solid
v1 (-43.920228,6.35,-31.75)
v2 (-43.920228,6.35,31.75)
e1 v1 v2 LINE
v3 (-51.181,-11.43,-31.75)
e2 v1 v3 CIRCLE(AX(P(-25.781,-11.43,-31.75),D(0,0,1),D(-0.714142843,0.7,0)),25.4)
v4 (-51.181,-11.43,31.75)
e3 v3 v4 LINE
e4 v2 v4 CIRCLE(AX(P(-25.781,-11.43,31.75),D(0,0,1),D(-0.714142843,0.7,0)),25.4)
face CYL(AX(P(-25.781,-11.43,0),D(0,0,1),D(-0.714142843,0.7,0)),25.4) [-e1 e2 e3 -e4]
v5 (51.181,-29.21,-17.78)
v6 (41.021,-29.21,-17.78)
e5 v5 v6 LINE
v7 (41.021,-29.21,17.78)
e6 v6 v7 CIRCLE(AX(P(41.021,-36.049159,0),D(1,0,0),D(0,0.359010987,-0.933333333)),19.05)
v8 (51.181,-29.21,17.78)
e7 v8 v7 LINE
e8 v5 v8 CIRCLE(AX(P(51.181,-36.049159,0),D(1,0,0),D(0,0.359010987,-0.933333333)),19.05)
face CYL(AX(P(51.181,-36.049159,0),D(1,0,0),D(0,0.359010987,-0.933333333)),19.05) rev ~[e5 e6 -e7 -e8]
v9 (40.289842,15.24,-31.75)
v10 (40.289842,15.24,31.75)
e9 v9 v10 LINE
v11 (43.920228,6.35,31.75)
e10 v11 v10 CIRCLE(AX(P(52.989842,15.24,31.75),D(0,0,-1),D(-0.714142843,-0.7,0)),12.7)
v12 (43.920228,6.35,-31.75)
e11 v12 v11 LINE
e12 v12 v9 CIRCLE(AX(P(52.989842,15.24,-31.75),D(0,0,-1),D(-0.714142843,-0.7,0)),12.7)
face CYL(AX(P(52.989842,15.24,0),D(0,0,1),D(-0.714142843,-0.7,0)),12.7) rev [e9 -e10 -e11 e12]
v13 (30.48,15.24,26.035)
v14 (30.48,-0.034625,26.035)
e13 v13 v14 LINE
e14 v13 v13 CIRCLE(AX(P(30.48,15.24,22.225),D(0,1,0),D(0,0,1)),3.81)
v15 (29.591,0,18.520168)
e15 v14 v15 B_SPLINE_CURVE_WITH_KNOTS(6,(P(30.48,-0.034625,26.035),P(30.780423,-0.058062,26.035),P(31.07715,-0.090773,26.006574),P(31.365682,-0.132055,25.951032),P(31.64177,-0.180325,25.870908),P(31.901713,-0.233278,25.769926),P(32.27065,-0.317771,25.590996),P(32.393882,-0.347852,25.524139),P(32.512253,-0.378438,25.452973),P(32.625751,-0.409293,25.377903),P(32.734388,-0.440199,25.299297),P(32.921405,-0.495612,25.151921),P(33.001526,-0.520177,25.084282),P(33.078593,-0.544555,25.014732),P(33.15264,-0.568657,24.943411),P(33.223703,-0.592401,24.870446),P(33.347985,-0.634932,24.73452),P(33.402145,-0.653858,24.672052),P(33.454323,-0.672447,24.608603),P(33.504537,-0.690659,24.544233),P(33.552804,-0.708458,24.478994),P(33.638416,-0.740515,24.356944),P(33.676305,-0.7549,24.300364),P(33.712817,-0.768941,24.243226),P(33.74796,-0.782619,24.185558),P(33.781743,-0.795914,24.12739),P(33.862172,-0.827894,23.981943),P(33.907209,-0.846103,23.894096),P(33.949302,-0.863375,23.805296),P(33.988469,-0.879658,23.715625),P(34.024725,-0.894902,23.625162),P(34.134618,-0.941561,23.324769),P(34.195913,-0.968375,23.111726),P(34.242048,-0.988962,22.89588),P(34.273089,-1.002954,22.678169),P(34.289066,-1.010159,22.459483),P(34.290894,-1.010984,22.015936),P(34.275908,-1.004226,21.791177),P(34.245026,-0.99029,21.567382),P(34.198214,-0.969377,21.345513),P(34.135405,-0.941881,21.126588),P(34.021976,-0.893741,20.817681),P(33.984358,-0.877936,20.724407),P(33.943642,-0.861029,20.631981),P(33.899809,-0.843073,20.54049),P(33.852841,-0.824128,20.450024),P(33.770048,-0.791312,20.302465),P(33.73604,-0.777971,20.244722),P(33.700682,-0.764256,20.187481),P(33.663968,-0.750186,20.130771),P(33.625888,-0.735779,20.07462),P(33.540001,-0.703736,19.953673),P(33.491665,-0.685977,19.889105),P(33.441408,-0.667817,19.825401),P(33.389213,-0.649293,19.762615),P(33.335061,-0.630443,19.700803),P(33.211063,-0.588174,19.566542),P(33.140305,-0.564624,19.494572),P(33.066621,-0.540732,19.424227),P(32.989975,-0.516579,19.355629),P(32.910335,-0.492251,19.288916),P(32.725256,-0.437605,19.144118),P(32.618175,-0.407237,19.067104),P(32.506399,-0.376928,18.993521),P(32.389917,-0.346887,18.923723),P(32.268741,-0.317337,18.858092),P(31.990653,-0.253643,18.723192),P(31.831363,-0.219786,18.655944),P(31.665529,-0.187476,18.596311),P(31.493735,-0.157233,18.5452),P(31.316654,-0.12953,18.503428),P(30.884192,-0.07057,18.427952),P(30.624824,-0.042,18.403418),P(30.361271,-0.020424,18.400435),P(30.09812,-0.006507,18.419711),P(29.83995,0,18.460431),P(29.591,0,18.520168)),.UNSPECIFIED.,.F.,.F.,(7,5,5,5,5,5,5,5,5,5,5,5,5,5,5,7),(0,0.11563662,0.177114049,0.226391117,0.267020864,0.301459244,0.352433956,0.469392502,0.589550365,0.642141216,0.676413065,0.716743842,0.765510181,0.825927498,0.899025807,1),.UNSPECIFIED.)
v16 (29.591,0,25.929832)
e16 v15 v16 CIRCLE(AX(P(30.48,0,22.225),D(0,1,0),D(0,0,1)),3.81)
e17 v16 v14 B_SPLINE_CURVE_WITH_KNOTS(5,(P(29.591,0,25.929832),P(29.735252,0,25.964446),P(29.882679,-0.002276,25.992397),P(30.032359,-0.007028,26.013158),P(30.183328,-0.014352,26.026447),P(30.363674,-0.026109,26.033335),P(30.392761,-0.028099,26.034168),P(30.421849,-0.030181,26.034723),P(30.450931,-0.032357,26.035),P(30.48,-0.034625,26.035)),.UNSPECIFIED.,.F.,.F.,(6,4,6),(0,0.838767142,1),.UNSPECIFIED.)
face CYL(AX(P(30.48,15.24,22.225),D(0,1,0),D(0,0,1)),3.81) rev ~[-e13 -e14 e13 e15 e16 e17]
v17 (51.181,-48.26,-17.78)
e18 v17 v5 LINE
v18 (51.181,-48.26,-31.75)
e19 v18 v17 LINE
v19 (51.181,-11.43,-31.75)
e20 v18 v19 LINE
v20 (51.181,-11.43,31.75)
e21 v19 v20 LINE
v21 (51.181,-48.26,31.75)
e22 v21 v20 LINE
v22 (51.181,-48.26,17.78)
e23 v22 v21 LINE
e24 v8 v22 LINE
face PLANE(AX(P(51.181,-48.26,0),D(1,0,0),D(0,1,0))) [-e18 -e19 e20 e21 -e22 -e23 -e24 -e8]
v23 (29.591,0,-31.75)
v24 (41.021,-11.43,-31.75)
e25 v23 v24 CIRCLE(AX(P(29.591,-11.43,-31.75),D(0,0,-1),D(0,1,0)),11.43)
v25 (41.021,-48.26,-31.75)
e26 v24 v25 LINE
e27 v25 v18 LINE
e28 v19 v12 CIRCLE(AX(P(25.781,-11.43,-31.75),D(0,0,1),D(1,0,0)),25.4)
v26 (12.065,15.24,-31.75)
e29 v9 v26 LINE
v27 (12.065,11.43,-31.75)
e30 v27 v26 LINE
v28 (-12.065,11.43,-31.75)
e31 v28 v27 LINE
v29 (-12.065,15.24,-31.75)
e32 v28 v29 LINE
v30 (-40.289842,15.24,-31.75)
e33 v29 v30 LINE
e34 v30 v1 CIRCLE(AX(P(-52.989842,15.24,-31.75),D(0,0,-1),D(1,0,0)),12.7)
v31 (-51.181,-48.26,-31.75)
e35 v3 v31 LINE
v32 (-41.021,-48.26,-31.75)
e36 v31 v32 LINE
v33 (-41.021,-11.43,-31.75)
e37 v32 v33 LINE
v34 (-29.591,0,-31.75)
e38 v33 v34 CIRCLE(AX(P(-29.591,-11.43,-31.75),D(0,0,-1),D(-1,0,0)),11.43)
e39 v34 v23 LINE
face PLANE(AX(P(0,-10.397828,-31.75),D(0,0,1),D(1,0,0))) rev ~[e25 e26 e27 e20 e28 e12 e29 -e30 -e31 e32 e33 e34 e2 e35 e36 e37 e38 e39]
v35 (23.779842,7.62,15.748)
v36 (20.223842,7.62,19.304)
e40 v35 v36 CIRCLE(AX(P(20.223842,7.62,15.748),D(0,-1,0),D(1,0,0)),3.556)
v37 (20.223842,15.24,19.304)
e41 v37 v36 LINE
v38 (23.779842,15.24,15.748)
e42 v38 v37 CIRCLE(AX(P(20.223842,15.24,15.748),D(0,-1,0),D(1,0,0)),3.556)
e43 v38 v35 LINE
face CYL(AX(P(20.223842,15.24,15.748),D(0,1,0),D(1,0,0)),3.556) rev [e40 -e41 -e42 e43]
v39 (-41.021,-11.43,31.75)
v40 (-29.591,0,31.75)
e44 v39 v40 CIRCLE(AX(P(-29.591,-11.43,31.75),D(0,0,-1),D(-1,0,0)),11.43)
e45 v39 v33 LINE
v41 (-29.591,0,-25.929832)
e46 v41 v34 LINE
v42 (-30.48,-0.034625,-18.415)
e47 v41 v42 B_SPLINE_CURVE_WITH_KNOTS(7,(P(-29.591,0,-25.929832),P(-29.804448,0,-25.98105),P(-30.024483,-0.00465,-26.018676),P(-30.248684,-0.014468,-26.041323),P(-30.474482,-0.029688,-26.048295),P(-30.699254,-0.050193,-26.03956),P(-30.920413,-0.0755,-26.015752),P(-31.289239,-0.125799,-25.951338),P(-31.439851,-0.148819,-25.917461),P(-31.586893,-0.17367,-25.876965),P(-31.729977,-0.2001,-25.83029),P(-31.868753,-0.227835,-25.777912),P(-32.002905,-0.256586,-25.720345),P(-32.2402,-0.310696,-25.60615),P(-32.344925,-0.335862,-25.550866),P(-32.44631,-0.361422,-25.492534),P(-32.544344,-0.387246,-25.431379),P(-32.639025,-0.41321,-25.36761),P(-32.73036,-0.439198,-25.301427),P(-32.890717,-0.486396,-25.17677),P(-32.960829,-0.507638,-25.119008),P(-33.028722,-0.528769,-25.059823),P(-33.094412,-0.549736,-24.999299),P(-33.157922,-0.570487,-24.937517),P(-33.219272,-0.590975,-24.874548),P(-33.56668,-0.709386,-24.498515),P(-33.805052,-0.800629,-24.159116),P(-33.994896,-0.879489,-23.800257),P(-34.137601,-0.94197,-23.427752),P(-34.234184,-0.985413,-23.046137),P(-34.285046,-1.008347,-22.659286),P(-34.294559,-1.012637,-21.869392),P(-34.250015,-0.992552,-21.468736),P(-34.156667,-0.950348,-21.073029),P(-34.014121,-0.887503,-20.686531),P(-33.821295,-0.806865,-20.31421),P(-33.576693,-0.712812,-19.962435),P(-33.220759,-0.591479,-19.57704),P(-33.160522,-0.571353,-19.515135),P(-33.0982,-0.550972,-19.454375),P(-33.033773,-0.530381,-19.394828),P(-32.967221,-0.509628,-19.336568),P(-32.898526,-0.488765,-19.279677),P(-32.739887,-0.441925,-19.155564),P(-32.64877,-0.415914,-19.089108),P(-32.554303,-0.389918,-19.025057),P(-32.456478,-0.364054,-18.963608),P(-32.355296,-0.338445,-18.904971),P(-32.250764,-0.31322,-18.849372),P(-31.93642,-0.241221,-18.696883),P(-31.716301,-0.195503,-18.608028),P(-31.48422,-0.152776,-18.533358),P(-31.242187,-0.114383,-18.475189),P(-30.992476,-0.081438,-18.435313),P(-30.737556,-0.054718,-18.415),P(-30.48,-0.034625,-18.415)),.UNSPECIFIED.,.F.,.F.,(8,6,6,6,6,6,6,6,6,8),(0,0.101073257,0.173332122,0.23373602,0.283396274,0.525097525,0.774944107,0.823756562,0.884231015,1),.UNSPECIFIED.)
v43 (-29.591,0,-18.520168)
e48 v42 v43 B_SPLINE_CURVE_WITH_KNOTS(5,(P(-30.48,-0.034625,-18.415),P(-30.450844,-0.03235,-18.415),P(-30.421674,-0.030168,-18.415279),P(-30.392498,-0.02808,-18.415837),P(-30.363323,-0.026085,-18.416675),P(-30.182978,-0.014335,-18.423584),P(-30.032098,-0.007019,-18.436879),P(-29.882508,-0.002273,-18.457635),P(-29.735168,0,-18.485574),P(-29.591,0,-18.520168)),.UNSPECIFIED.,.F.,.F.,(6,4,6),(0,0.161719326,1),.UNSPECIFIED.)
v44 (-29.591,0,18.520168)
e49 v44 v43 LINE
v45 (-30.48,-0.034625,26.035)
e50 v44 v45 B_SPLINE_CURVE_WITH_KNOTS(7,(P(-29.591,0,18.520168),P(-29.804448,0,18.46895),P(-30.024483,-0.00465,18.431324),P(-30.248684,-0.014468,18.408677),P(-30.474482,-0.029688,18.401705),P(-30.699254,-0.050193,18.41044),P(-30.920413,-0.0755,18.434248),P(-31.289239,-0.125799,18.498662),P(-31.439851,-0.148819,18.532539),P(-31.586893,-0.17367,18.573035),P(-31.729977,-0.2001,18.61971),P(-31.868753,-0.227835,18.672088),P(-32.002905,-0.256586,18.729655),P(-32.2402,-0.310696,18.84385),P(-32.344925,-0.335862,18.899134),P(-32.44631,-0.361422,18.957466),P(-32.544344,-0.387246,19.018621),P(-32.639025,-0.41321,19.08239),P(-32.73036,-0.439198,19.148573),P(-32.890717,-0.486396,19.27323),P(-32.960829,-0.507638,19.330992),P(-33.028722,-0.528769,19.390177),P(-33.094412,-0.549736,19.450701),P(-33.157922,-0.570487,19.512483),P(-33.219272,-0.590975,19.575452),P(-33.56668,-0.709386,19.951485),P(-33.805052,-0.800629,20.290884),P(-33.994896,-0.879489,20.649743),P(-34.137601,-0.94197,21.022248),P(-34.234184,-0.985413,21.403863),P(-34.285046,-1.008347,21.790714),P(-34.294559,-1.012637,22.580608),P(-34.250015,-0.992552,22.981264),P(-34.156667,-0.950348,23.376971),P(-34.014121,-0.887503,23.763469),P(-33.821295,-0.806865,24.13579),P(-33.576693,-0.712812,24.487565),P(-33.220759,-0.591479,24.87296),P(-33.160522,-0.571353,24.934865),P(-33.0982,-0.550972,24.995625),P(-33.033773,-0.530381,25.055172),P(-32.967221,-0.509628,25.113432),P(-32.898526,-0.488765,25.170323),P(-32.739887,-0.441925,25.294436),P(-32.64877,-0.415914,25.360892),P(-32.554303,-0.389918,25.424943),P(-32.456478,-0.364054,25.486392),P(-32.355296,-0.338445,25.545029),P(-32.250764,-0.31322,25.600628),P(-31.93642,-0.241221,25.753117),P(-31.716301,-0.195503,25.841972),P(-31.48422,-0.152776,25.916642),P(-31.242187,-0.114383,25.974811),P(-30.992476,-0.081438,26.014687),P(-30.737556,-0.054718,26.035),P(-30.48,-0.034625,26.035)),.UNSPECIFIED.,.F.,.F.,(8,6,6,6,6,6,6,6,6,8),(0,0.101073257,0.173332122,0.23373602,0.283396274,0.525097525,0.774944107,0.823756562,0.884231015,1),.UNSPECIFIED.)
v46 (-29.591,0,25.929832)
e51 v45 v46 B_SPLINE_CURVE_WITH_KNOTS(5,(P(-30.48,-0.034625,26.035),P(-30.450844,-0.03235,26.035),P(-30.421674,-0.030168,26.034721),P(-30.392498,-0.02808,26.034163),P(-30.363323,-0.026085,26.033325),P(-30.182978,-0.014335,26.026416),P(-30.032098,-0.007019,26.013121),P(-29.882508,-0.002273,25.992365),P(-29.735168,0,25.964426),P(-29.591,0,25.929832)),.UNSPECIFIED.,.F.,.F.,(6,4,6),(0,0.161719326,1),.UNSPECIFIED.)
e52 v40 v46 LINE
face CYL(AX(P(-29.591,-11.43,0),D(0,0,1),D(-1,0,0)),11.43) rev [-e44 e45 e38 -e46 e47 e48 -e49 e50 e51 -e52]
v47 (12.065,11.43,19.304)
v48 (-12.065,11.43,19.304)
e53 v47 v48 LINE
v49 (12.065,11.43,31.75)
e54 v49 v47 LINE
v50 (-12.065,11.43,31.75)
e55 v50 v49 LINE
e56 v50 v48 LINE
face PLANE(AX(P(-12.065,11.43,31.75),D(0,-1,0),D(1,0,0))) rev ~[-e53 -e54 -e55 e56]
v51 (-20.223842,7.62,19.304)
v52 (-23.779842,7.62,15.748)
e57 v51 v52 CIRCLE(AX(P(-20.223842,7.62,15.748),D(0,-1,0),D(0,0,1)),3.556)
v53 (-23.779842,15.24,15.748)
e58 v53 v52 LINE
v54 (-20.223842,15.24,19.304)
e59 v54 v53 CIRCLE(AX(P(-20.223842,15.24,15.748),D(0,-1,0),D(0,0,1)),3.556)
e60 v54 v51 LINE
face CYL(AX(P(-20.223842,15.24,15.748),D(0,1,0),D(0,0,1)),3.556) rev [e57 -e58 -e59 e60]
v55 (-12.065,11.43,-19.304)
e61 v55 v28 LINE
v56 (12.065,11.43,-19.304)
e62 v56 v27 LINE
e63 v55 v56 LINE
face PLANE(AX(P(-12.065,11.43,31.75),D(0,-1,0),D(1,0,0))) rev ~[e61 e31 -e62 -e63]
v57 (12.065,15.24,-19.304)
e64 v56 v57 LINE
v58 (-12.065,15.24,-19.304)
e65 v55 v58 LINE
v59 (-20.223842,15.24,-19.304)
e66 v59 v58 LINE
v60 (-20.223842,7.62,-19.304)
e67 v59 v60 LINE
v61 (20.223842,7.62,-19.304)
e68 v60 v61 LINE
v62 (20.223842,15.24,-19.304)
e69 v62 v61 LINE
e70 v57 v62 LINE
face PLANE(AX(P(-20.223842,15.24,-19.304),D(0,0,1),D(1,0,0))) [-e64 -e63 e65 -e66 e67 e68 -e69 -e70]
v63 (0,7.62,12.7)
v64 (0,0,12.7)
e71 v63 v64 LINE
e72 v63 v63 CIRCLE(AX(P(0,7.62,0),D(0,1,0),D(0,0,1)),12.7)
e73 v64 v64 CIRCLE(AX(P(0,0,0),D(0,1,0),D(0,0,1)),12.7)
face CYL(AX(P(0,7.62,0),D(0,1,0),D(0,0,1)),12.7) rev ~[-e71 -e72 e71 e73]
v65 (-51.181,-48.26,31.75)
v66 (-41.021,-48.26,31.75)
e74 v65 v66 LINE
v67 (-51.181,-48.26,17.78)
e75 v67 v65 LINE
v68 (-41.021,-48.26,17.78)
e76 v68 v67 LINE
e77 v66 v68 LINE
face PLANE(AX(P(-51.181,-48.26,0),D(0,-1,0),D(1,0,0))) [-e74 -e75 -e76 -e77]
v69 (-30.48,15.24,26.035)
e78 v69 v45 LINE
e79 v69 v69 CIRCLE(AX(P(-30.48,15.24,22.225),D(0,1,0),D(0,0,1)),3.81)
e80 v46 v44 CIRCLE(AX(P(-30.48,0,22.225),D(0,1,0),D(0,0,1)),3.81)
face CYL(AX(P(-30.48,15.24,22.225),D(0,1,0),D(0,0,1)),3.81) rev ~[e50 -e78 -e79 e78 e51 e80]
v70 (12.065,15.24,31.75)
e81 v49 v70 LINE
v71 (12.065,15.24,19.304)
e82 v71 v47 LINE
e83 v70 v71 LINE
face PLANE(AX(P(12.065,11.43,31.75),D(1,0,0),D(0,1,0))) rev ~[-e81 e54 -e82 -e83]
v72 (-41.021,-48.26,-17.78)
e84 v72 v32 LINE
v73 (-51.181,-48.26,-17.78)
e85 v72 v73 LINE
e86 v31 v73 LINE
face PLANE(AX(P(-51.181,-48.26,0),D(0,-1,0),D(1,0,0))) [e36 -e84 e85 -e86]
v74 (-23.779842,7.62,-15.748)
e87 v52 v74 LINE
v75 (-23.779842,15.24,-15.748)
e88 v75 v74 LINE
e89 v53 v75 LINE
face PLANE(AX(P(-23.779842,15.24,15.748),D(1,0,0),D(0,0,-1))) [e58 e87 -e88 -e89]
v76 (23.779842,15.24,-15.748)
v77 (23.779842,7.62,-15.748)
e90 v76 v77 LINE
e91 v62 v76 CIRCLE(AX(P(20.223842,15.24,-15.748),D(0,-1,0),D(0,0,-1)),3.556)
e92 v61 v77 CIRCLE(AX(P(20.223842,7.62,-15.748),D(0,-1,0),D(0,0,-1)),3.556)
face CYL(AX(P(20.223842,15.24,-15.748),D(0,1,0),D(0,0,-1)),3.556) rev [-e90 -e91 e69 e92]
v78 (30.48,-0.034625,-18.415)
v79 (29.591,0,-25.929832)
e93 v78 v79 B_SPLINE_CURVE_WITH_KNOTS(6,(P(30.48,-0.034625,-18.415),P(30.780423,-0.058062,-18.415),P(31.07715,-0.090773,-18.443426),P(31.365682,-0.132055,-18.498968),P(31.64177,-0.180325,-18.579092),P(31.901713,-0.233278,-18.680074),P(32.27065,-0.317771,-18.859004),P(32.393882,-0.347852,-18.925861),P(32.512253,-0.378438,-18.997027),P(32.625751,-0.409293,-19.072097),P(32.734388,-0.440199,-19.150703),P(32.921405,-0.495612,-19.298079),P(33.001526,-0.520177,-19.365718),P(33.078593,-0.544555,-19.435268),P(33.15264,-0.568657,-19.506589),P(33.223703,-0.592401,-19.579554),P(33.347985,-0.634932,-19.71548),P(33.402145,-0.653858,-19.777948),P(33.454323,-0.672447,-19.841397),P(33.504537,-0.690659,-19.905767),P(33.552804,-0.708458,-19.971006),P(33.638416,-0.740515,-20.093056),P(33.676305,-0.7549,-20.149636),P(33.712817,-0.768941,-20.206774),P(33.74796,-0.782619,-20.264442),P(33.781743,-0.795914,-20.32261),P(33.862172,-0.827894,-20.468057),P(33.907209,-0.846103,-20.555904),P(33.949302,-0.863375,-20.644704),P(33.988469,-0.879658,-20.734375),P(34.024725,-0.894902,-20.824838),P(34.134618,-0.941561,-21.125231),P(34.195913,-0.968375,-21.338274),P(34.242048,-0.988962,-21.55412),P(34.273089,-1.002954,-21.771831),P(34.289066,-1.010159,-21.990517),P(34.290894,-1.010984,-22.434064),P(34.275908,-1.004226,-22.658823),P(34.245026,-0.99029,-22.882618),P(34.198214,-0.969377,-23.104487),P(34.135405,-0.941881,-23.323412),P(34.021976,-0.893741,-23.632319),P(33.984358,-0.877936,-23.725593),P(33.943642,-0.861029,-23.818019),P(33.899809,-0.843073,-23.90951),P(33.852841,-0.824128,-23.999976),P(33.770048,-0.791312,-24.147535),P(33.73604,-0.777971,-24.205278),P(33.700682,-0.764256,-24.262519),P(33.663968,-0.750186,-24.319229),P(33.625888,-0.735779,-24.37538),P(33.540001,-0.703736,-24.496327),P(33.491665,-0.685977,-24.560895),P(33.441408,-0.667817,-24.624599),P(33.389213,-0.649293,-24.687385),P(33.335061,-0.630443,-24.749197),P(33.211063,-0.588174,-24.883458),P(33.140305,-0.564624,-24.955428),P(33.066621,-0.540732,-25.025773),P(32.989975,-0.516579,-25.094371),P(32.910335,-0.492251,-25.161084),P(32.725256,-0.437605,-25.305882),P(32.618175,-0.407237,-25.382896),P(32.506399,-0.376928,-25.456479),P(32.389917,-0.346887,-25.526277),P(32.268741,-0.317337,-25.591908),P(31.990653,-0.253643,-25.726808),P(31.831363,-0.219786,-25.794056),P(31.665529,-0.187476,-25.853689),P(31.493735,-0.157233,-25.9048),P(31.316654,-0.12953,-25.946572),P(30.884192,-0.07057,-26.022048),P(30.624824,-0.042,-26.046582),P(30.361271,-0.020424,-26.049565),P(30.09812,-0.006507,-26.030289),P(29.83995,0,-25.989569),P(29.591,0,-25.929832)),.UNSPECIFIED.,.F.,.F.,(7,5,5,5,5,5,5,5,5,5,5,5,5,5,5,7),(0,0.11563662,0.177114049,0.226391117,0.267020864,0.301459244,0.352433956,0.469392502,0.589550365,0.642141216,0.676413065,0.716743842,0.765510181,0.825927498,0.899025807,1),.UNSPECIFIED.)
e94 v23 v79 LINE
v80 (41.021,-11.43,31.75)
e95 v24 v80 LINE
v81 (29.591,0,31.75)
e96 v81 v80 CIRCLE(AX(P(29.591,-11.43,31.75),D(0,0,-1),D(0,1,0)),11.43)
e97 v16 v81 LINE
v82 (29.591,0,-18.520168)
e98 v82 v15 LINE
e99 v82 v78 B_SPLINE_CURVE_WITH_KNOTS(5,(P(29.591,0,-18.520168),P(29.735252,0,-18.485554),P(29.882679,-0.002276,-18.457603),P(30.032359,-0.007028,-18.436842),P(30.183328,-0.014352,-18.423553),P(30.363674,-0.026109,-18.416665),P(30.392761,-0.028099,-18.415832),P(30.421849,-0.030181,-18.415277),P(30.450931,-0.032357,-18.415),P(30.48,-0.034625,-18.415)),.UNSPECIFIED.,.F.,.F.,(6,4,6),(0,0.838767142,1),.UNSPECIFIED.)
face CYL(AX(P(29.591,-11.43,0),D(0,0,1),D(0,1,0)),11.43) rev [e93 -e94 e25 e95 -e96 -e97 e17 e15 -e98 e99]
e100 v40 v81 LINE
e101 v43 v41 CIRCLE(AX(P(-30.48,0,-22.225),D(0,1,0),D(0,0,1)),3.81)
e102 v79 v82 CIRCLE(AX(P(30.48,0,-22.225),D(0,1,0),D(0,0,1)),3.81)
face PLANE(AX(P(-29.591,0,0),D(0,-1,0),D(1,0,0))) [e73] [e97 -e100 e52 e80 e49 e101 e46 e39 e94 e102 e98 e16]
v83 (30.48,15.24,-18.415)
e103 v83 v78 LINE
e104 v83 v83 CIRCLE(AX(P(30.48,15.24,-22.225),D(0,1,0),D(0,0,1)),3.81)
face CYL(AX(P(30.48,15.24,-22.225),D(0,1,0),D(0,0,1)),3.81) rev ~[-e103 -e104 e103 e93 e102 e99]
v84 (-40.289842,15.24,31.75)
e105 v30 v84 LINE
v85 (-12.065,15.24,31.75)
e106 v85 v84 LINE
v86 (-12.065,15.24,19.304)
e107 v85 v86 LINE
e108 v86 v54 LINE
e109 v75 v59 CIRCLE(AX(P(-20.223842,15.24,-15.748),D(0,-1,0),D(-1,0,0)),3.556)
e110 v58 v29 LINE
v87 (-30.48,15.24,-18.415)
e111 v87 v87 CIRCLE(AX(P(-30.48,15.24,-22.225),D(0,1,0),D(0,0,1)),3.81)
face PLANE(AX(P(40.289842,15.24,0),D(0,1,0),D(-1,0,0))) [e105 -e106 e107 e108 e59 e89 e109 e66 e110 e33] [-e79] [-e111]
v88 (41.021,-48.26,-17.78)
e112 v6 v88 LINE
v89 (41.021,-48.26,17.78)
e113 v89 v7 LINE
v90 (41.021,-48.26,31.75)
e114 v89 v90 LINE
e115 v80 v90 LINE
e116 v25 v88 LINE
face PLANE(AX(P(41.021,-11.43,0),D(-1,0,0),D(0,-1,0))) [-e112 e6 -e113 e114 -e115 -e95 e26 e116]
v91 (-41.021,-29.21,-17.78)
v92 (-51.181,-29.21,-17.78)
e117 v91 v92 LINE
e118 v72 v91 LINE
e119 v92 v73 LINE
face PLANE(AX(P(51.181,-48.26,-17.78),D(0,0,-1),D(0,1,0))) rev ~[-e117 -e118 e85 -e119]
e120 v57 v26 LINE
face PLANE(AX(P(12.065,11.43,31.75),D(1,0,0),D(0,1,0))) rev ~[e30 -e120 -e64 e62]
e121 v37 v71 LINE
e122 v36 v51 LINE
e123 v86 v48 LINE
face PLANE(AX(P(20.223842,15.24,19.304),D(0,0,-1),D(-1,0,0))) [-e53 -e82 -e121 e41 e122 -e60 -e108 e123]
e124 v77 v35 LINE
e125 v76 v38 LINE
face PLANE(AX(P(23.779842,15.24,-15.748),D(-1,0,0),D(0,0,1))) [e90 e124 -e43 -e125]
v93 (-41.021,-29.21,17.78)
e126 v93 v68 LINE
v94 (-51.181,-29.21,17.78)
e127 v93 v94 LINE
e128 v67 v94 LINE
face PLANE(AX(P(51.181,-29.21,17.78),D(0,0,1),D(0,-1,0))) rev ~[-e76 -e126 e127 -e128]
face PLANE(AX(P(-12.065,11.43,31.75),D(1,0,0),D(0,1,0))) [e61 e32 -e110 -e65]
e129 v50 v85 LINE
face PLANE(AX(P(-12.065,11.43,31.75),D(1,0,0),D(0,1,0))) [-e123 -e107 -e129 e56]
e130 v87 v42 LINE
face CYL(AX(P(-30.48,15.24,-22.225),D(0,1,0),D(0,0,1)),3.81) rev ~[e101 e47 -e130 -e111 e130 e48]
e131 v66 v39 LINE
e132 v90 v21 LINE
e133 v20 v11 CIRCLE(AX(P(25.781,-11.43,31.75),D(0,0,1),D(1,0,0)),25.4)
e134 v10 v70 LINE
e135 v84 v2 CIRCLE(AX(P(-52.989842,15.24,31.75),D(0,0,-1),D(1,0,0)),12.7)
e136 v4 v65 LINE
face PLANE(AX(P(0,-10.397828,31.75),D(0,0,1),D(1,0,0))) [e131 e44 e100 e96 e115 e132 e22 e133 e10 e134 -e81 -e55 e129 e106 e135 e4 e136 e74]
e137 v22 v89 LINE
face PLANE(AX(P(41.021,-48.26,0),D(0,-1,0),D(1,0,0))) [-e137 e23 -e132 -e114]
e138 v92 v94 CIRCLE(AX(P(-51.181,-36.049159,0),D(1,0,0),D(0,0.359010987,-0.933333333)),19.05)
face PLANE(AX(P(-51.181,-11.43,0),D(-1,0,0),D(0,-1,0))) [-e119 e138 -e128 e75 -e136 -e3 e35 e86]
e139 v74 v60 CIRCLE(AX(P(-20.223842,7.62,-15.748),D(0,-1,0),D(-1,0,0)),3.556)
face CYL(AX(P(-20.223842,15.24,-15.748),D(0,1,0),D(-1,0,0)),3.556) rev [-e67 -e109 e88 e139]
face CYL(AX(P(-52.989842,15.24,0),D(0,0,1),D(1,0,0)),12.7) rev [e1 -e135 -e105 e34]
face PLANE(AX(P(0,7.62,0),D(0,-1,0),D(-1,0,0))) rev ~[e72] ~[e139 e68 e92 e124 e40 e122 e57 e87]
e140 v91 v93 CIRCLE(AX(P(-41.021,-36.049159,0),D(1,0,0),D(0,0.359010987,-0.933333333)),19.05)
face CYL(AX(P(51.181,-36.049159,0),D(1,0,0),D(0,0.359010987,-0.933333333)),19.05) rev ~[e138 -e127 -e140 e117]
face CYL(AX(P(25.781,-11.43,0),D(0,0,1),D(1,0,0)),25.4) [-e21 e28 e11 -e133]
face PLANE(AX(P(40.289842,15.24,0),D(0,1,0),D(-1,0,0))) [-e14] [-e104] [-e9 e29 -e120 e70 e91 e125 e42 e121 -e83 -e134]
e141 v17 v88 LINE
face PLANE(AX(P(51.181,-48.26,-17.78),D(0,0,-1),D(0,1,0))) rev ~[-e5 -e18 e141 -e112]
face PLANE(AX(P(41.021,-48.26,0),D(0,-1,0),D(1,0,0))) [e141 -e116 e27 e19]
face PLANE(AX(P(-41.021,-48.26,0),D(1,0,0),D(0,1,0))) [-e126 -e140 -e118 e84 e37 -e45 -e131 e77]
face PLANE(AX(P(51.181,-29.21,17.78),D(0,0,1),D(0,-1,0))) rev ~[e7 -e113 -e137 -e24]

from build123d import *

# Parameters (mm, degrees)
BOSS_EXTRUDE1_DEPTH = 31.75
CUT_EXTRUDE1_DEPTH  = 118.537522281
CUT_EXTRUDE2_DEPTH  = 7.62
SKETCH5_W           = 24.13
SKETCH5_H           = 3.81
CUT_EXTRUDE3_DEPTH  = 95.766937067
CUT_EXTRUDE4_REACH  = 84.159
SKETCH6_R           = 12.7
CUT_EXTRUDE5_REACH  = 89.52
SKETCH7_R           = 3.81


with BuildPart() as part:
    # Sketch2 → Boss-Extrude1 (new, symmetric)
    with BuildSketch(Plane.XY):
        with BuildLine():
            Line((-29.591, 0), (29.591, 0))
            ThreePointArc((29.591, 0), (37.673230509, -3.347769491), (41.021, -11.43))
            Line((41.021, -11.43), (41.021, -48.26))
            Line((41.021, -48.26), (51.181, -48.26))
            Line((51.181, -48.26), (51.181, -11.43))
            ThreePointArc((51.181, -11.43), (49.29585059, -1.827302371), (43.920228208, 6.35))
            ThreePointArc((43.920228208, 6.35), (41.232417018, 10.438651186), (40.289842313, 15.24))
            Line((40.289842313, 15.24), (-40.289842313, 15.24))
            ThreePointArc((-40.289842313, 15.24), (-41.232417018, 10.438651186), (-43.920228208, 6.35))
            ThreePointArc((-43.920228208, 6.35), (-49.29585059, -1.827302371), (-51.181, -11.43))
            Line((-51.181, -11.43), (-51.181, -48.26))
            Line((-51.181, -48.26), (-41.021, -48.26))
            Line((-41.021, -48.26), (-41.021, -11.43))
            ThreePointArc((-41.021, -11.43), (-37.673230509, -3.347769491), (-29.591, 0))
        make_face()
    extrude(amount=BOSS_EXTRUDE1_DEPTH, both=True)

    # Sketch3 → Cut-Extrude1 (cut, through all)
    with BuildSketch(Plane(origin=(51.181, 0, 0), x_dir=(0, 0, -1), z_dir=(1, 0, 0))):
        with BuildLine():
            Line((-17.78, -48.26), (17.78, -48.26))
            Line((17.78, -48.26), (17.78, -29.21))
            ThreePointArc((17.78, -29.21), (0, -16.999159305), (-17.78, -29.21))
            Line((-17.78, -29.21), (-17.78, -48.26))
        make_face()
    extrude(amount=-CUT_EXTRUDE1_DEPTH, mode=Mode.SUBTRACT)

    # Sketch4 → Cut-Extrude2 (cut)
    with BuildSketch(Plane(origin=(0, 15.24, 0), x_dir=(1, 0, 0), z_dir=(0, 1, 0))):
        with BuildLine():
            Line((-20.223842313, 19.304), (20.223842313, 19.304))
            ThreePointArc((20.223842313, 19.304), (22.738314027, 18.262471714), (23.779842313, 15.748))
            Line((23.779842313, 15.748), (23.779842313, -15.748))
            ThreePointArc((23.779842313, -15.748), (22.738314027, -18.262471714), (20.223842313, -19.304))
            Line((20.223842313, -19.304), (-20.223842313, -19.304))
            ThreePointArc((-20.223842313, -19.304), (-22.738314027, -18.262471714), (-23.779842313, -15.748))
            Line((-23.779842313, -15.748), (-23.779842313, 15.748))
            ThreePointArc((-23.779842313, 15.748), (-22.738314027, 18.262471714), (-20.223842313, 19.304))
        make_face()
    extrude(amount=-CUT_EXTRUDE2_DEPTH, mode=Mode.SUBTRACT)

    # Sketch5 → Cut-Extrude3 (cut, through all)
    with BuildSketch(Plane.XY.offset(31.75)):
        with Locations((0, 13.335)):
            Rectangle(SKETCH5_W, SKETCH5_H)
    extrude(amount=-CUT_EXTRUDE3_DEPTH, mode=Mode.SUBTRACT)

    # Sketch6 → Cut-Extrude4 (cut, up to next)
    with BuildSketch(Plane(origin=(0, 7.62, 0), x_dir=(1, 0, 0), z_dir=(0, 1, 0)), mode=Mode.PRIVATE) as cut_extrude4_sk1:
        with Locations(Location((0, 0, 0), (0, 0, 270))):
            Circle(SKETCH6_R)
    cut_extrude4_tool1 = extrude(cut_extrude4_sk1.sketch, amount=-CUT_EXTRUDE4_REACH, mode=Mode.PRIVATE) & part.part
    add(cut_extrude4_tool1.solids().sort_by_distance((0, 7.62, 0))[0], mode=Mode.SUBTRACT)

    # Sketch7 → Cut-Extrude5 (cut, up to next)
    with BuildSketch(Plane(origin=(0, 15.24, 0), x_dir=(1, 0, 0), z_dir=(0, 1, 0)), mode=Mode.PRIVATE) as cut_extrude5_sk1:
        with Locations(Location((-30.48, 22.225, 0), (0, 0, 270))):
            Circle(SKETCH7_R)
    cut_extrude5_tool1 = extrude(cut_extrude5_sk1.sketch, amount=-CUT_EXTRUDE5_REACH, mode=Mode.PRIVATE) & part.part
    # Sketch7 → Cut-Extrude5 (cut, up to next)
    with BuildSketch(Plane(origin=(0, 15.24, 0), x_dir=(1, 0, 0), z_dir=(0, 1, 0)), mode=Mode.PRIVATE) as cut_extrude5_sk2:
        with Locations(Location((30.48, 22.225, 0), (0, 0, 270))):
            Circle(SKETCH7_R)
    cut_extrude5_tool2 = extrude(cut_extrude5_sk2.sketch, amount=-CUT_EXTRUDE5_REACH, mode=Mode.PRIVATE) & part.part
    # Sketch7 → Cut-Extrude5 (cut, up to next)
    with BuildSketch(Plane(origin=(0, 15.24, 0), x_dir=(1, 0, 0), z_dir=(0, 1, 0)), mode=Mode.PRIVATE) as cut_extrude5_sk3:
        with Locations(Location((30.48, -22.225, 0), (0, 0, 270))):
            Circle(SKETCH7_R)
    cut_extrude5_tool3 = extrude(cut_extrude5_sk3.sketch, amount=-CUT_EXTRUDE5_REACH, mode=Mode.PRIVATE) & part.part
    # Sketch7 → Cut-Extrude5 (cut, up to next)
    with BuildSketch(Plane(origin=(0, 15.24, 0), x_dir=(1, 0, 0), z_dir=(0, 1, 0)), mode=Mode.PRIVATE) as cut_extrude5_sk4:
        with Locations(Location((-30.48, -22.225, 0), (0, 0, 270))):
            Circle(SKETCH7_R)
    cut_extrude5_tool4 = extrude(cut_extrude5_sk4.sketch, amount=-CUT_EXTRUDE5_REACH, mode=Mode.PRIVATE) & part.part
    add(cut_extrude5_tool1.solids().sort_by_distance((-30.48, 15.24, -22.225))[0], mode=Mode.SUBTRACT)
    add(cut_extrude5_tool2.solids().sort_by_distance((30.48, 15.24, -22.225))[0], mode=Mode.SUBTRACT)
    add(cut_extrude5_tool3.solids().sort_by_distance((30.48, 15.24, 22.225))[0], mode=Mode.SUBTRACT)
    add(cut_extrude5_tool4.solids().sort_by_distance((-30.48, 15.24, 22.225))[0], mode=Mode.SUBTRACT)


solid = part.part
